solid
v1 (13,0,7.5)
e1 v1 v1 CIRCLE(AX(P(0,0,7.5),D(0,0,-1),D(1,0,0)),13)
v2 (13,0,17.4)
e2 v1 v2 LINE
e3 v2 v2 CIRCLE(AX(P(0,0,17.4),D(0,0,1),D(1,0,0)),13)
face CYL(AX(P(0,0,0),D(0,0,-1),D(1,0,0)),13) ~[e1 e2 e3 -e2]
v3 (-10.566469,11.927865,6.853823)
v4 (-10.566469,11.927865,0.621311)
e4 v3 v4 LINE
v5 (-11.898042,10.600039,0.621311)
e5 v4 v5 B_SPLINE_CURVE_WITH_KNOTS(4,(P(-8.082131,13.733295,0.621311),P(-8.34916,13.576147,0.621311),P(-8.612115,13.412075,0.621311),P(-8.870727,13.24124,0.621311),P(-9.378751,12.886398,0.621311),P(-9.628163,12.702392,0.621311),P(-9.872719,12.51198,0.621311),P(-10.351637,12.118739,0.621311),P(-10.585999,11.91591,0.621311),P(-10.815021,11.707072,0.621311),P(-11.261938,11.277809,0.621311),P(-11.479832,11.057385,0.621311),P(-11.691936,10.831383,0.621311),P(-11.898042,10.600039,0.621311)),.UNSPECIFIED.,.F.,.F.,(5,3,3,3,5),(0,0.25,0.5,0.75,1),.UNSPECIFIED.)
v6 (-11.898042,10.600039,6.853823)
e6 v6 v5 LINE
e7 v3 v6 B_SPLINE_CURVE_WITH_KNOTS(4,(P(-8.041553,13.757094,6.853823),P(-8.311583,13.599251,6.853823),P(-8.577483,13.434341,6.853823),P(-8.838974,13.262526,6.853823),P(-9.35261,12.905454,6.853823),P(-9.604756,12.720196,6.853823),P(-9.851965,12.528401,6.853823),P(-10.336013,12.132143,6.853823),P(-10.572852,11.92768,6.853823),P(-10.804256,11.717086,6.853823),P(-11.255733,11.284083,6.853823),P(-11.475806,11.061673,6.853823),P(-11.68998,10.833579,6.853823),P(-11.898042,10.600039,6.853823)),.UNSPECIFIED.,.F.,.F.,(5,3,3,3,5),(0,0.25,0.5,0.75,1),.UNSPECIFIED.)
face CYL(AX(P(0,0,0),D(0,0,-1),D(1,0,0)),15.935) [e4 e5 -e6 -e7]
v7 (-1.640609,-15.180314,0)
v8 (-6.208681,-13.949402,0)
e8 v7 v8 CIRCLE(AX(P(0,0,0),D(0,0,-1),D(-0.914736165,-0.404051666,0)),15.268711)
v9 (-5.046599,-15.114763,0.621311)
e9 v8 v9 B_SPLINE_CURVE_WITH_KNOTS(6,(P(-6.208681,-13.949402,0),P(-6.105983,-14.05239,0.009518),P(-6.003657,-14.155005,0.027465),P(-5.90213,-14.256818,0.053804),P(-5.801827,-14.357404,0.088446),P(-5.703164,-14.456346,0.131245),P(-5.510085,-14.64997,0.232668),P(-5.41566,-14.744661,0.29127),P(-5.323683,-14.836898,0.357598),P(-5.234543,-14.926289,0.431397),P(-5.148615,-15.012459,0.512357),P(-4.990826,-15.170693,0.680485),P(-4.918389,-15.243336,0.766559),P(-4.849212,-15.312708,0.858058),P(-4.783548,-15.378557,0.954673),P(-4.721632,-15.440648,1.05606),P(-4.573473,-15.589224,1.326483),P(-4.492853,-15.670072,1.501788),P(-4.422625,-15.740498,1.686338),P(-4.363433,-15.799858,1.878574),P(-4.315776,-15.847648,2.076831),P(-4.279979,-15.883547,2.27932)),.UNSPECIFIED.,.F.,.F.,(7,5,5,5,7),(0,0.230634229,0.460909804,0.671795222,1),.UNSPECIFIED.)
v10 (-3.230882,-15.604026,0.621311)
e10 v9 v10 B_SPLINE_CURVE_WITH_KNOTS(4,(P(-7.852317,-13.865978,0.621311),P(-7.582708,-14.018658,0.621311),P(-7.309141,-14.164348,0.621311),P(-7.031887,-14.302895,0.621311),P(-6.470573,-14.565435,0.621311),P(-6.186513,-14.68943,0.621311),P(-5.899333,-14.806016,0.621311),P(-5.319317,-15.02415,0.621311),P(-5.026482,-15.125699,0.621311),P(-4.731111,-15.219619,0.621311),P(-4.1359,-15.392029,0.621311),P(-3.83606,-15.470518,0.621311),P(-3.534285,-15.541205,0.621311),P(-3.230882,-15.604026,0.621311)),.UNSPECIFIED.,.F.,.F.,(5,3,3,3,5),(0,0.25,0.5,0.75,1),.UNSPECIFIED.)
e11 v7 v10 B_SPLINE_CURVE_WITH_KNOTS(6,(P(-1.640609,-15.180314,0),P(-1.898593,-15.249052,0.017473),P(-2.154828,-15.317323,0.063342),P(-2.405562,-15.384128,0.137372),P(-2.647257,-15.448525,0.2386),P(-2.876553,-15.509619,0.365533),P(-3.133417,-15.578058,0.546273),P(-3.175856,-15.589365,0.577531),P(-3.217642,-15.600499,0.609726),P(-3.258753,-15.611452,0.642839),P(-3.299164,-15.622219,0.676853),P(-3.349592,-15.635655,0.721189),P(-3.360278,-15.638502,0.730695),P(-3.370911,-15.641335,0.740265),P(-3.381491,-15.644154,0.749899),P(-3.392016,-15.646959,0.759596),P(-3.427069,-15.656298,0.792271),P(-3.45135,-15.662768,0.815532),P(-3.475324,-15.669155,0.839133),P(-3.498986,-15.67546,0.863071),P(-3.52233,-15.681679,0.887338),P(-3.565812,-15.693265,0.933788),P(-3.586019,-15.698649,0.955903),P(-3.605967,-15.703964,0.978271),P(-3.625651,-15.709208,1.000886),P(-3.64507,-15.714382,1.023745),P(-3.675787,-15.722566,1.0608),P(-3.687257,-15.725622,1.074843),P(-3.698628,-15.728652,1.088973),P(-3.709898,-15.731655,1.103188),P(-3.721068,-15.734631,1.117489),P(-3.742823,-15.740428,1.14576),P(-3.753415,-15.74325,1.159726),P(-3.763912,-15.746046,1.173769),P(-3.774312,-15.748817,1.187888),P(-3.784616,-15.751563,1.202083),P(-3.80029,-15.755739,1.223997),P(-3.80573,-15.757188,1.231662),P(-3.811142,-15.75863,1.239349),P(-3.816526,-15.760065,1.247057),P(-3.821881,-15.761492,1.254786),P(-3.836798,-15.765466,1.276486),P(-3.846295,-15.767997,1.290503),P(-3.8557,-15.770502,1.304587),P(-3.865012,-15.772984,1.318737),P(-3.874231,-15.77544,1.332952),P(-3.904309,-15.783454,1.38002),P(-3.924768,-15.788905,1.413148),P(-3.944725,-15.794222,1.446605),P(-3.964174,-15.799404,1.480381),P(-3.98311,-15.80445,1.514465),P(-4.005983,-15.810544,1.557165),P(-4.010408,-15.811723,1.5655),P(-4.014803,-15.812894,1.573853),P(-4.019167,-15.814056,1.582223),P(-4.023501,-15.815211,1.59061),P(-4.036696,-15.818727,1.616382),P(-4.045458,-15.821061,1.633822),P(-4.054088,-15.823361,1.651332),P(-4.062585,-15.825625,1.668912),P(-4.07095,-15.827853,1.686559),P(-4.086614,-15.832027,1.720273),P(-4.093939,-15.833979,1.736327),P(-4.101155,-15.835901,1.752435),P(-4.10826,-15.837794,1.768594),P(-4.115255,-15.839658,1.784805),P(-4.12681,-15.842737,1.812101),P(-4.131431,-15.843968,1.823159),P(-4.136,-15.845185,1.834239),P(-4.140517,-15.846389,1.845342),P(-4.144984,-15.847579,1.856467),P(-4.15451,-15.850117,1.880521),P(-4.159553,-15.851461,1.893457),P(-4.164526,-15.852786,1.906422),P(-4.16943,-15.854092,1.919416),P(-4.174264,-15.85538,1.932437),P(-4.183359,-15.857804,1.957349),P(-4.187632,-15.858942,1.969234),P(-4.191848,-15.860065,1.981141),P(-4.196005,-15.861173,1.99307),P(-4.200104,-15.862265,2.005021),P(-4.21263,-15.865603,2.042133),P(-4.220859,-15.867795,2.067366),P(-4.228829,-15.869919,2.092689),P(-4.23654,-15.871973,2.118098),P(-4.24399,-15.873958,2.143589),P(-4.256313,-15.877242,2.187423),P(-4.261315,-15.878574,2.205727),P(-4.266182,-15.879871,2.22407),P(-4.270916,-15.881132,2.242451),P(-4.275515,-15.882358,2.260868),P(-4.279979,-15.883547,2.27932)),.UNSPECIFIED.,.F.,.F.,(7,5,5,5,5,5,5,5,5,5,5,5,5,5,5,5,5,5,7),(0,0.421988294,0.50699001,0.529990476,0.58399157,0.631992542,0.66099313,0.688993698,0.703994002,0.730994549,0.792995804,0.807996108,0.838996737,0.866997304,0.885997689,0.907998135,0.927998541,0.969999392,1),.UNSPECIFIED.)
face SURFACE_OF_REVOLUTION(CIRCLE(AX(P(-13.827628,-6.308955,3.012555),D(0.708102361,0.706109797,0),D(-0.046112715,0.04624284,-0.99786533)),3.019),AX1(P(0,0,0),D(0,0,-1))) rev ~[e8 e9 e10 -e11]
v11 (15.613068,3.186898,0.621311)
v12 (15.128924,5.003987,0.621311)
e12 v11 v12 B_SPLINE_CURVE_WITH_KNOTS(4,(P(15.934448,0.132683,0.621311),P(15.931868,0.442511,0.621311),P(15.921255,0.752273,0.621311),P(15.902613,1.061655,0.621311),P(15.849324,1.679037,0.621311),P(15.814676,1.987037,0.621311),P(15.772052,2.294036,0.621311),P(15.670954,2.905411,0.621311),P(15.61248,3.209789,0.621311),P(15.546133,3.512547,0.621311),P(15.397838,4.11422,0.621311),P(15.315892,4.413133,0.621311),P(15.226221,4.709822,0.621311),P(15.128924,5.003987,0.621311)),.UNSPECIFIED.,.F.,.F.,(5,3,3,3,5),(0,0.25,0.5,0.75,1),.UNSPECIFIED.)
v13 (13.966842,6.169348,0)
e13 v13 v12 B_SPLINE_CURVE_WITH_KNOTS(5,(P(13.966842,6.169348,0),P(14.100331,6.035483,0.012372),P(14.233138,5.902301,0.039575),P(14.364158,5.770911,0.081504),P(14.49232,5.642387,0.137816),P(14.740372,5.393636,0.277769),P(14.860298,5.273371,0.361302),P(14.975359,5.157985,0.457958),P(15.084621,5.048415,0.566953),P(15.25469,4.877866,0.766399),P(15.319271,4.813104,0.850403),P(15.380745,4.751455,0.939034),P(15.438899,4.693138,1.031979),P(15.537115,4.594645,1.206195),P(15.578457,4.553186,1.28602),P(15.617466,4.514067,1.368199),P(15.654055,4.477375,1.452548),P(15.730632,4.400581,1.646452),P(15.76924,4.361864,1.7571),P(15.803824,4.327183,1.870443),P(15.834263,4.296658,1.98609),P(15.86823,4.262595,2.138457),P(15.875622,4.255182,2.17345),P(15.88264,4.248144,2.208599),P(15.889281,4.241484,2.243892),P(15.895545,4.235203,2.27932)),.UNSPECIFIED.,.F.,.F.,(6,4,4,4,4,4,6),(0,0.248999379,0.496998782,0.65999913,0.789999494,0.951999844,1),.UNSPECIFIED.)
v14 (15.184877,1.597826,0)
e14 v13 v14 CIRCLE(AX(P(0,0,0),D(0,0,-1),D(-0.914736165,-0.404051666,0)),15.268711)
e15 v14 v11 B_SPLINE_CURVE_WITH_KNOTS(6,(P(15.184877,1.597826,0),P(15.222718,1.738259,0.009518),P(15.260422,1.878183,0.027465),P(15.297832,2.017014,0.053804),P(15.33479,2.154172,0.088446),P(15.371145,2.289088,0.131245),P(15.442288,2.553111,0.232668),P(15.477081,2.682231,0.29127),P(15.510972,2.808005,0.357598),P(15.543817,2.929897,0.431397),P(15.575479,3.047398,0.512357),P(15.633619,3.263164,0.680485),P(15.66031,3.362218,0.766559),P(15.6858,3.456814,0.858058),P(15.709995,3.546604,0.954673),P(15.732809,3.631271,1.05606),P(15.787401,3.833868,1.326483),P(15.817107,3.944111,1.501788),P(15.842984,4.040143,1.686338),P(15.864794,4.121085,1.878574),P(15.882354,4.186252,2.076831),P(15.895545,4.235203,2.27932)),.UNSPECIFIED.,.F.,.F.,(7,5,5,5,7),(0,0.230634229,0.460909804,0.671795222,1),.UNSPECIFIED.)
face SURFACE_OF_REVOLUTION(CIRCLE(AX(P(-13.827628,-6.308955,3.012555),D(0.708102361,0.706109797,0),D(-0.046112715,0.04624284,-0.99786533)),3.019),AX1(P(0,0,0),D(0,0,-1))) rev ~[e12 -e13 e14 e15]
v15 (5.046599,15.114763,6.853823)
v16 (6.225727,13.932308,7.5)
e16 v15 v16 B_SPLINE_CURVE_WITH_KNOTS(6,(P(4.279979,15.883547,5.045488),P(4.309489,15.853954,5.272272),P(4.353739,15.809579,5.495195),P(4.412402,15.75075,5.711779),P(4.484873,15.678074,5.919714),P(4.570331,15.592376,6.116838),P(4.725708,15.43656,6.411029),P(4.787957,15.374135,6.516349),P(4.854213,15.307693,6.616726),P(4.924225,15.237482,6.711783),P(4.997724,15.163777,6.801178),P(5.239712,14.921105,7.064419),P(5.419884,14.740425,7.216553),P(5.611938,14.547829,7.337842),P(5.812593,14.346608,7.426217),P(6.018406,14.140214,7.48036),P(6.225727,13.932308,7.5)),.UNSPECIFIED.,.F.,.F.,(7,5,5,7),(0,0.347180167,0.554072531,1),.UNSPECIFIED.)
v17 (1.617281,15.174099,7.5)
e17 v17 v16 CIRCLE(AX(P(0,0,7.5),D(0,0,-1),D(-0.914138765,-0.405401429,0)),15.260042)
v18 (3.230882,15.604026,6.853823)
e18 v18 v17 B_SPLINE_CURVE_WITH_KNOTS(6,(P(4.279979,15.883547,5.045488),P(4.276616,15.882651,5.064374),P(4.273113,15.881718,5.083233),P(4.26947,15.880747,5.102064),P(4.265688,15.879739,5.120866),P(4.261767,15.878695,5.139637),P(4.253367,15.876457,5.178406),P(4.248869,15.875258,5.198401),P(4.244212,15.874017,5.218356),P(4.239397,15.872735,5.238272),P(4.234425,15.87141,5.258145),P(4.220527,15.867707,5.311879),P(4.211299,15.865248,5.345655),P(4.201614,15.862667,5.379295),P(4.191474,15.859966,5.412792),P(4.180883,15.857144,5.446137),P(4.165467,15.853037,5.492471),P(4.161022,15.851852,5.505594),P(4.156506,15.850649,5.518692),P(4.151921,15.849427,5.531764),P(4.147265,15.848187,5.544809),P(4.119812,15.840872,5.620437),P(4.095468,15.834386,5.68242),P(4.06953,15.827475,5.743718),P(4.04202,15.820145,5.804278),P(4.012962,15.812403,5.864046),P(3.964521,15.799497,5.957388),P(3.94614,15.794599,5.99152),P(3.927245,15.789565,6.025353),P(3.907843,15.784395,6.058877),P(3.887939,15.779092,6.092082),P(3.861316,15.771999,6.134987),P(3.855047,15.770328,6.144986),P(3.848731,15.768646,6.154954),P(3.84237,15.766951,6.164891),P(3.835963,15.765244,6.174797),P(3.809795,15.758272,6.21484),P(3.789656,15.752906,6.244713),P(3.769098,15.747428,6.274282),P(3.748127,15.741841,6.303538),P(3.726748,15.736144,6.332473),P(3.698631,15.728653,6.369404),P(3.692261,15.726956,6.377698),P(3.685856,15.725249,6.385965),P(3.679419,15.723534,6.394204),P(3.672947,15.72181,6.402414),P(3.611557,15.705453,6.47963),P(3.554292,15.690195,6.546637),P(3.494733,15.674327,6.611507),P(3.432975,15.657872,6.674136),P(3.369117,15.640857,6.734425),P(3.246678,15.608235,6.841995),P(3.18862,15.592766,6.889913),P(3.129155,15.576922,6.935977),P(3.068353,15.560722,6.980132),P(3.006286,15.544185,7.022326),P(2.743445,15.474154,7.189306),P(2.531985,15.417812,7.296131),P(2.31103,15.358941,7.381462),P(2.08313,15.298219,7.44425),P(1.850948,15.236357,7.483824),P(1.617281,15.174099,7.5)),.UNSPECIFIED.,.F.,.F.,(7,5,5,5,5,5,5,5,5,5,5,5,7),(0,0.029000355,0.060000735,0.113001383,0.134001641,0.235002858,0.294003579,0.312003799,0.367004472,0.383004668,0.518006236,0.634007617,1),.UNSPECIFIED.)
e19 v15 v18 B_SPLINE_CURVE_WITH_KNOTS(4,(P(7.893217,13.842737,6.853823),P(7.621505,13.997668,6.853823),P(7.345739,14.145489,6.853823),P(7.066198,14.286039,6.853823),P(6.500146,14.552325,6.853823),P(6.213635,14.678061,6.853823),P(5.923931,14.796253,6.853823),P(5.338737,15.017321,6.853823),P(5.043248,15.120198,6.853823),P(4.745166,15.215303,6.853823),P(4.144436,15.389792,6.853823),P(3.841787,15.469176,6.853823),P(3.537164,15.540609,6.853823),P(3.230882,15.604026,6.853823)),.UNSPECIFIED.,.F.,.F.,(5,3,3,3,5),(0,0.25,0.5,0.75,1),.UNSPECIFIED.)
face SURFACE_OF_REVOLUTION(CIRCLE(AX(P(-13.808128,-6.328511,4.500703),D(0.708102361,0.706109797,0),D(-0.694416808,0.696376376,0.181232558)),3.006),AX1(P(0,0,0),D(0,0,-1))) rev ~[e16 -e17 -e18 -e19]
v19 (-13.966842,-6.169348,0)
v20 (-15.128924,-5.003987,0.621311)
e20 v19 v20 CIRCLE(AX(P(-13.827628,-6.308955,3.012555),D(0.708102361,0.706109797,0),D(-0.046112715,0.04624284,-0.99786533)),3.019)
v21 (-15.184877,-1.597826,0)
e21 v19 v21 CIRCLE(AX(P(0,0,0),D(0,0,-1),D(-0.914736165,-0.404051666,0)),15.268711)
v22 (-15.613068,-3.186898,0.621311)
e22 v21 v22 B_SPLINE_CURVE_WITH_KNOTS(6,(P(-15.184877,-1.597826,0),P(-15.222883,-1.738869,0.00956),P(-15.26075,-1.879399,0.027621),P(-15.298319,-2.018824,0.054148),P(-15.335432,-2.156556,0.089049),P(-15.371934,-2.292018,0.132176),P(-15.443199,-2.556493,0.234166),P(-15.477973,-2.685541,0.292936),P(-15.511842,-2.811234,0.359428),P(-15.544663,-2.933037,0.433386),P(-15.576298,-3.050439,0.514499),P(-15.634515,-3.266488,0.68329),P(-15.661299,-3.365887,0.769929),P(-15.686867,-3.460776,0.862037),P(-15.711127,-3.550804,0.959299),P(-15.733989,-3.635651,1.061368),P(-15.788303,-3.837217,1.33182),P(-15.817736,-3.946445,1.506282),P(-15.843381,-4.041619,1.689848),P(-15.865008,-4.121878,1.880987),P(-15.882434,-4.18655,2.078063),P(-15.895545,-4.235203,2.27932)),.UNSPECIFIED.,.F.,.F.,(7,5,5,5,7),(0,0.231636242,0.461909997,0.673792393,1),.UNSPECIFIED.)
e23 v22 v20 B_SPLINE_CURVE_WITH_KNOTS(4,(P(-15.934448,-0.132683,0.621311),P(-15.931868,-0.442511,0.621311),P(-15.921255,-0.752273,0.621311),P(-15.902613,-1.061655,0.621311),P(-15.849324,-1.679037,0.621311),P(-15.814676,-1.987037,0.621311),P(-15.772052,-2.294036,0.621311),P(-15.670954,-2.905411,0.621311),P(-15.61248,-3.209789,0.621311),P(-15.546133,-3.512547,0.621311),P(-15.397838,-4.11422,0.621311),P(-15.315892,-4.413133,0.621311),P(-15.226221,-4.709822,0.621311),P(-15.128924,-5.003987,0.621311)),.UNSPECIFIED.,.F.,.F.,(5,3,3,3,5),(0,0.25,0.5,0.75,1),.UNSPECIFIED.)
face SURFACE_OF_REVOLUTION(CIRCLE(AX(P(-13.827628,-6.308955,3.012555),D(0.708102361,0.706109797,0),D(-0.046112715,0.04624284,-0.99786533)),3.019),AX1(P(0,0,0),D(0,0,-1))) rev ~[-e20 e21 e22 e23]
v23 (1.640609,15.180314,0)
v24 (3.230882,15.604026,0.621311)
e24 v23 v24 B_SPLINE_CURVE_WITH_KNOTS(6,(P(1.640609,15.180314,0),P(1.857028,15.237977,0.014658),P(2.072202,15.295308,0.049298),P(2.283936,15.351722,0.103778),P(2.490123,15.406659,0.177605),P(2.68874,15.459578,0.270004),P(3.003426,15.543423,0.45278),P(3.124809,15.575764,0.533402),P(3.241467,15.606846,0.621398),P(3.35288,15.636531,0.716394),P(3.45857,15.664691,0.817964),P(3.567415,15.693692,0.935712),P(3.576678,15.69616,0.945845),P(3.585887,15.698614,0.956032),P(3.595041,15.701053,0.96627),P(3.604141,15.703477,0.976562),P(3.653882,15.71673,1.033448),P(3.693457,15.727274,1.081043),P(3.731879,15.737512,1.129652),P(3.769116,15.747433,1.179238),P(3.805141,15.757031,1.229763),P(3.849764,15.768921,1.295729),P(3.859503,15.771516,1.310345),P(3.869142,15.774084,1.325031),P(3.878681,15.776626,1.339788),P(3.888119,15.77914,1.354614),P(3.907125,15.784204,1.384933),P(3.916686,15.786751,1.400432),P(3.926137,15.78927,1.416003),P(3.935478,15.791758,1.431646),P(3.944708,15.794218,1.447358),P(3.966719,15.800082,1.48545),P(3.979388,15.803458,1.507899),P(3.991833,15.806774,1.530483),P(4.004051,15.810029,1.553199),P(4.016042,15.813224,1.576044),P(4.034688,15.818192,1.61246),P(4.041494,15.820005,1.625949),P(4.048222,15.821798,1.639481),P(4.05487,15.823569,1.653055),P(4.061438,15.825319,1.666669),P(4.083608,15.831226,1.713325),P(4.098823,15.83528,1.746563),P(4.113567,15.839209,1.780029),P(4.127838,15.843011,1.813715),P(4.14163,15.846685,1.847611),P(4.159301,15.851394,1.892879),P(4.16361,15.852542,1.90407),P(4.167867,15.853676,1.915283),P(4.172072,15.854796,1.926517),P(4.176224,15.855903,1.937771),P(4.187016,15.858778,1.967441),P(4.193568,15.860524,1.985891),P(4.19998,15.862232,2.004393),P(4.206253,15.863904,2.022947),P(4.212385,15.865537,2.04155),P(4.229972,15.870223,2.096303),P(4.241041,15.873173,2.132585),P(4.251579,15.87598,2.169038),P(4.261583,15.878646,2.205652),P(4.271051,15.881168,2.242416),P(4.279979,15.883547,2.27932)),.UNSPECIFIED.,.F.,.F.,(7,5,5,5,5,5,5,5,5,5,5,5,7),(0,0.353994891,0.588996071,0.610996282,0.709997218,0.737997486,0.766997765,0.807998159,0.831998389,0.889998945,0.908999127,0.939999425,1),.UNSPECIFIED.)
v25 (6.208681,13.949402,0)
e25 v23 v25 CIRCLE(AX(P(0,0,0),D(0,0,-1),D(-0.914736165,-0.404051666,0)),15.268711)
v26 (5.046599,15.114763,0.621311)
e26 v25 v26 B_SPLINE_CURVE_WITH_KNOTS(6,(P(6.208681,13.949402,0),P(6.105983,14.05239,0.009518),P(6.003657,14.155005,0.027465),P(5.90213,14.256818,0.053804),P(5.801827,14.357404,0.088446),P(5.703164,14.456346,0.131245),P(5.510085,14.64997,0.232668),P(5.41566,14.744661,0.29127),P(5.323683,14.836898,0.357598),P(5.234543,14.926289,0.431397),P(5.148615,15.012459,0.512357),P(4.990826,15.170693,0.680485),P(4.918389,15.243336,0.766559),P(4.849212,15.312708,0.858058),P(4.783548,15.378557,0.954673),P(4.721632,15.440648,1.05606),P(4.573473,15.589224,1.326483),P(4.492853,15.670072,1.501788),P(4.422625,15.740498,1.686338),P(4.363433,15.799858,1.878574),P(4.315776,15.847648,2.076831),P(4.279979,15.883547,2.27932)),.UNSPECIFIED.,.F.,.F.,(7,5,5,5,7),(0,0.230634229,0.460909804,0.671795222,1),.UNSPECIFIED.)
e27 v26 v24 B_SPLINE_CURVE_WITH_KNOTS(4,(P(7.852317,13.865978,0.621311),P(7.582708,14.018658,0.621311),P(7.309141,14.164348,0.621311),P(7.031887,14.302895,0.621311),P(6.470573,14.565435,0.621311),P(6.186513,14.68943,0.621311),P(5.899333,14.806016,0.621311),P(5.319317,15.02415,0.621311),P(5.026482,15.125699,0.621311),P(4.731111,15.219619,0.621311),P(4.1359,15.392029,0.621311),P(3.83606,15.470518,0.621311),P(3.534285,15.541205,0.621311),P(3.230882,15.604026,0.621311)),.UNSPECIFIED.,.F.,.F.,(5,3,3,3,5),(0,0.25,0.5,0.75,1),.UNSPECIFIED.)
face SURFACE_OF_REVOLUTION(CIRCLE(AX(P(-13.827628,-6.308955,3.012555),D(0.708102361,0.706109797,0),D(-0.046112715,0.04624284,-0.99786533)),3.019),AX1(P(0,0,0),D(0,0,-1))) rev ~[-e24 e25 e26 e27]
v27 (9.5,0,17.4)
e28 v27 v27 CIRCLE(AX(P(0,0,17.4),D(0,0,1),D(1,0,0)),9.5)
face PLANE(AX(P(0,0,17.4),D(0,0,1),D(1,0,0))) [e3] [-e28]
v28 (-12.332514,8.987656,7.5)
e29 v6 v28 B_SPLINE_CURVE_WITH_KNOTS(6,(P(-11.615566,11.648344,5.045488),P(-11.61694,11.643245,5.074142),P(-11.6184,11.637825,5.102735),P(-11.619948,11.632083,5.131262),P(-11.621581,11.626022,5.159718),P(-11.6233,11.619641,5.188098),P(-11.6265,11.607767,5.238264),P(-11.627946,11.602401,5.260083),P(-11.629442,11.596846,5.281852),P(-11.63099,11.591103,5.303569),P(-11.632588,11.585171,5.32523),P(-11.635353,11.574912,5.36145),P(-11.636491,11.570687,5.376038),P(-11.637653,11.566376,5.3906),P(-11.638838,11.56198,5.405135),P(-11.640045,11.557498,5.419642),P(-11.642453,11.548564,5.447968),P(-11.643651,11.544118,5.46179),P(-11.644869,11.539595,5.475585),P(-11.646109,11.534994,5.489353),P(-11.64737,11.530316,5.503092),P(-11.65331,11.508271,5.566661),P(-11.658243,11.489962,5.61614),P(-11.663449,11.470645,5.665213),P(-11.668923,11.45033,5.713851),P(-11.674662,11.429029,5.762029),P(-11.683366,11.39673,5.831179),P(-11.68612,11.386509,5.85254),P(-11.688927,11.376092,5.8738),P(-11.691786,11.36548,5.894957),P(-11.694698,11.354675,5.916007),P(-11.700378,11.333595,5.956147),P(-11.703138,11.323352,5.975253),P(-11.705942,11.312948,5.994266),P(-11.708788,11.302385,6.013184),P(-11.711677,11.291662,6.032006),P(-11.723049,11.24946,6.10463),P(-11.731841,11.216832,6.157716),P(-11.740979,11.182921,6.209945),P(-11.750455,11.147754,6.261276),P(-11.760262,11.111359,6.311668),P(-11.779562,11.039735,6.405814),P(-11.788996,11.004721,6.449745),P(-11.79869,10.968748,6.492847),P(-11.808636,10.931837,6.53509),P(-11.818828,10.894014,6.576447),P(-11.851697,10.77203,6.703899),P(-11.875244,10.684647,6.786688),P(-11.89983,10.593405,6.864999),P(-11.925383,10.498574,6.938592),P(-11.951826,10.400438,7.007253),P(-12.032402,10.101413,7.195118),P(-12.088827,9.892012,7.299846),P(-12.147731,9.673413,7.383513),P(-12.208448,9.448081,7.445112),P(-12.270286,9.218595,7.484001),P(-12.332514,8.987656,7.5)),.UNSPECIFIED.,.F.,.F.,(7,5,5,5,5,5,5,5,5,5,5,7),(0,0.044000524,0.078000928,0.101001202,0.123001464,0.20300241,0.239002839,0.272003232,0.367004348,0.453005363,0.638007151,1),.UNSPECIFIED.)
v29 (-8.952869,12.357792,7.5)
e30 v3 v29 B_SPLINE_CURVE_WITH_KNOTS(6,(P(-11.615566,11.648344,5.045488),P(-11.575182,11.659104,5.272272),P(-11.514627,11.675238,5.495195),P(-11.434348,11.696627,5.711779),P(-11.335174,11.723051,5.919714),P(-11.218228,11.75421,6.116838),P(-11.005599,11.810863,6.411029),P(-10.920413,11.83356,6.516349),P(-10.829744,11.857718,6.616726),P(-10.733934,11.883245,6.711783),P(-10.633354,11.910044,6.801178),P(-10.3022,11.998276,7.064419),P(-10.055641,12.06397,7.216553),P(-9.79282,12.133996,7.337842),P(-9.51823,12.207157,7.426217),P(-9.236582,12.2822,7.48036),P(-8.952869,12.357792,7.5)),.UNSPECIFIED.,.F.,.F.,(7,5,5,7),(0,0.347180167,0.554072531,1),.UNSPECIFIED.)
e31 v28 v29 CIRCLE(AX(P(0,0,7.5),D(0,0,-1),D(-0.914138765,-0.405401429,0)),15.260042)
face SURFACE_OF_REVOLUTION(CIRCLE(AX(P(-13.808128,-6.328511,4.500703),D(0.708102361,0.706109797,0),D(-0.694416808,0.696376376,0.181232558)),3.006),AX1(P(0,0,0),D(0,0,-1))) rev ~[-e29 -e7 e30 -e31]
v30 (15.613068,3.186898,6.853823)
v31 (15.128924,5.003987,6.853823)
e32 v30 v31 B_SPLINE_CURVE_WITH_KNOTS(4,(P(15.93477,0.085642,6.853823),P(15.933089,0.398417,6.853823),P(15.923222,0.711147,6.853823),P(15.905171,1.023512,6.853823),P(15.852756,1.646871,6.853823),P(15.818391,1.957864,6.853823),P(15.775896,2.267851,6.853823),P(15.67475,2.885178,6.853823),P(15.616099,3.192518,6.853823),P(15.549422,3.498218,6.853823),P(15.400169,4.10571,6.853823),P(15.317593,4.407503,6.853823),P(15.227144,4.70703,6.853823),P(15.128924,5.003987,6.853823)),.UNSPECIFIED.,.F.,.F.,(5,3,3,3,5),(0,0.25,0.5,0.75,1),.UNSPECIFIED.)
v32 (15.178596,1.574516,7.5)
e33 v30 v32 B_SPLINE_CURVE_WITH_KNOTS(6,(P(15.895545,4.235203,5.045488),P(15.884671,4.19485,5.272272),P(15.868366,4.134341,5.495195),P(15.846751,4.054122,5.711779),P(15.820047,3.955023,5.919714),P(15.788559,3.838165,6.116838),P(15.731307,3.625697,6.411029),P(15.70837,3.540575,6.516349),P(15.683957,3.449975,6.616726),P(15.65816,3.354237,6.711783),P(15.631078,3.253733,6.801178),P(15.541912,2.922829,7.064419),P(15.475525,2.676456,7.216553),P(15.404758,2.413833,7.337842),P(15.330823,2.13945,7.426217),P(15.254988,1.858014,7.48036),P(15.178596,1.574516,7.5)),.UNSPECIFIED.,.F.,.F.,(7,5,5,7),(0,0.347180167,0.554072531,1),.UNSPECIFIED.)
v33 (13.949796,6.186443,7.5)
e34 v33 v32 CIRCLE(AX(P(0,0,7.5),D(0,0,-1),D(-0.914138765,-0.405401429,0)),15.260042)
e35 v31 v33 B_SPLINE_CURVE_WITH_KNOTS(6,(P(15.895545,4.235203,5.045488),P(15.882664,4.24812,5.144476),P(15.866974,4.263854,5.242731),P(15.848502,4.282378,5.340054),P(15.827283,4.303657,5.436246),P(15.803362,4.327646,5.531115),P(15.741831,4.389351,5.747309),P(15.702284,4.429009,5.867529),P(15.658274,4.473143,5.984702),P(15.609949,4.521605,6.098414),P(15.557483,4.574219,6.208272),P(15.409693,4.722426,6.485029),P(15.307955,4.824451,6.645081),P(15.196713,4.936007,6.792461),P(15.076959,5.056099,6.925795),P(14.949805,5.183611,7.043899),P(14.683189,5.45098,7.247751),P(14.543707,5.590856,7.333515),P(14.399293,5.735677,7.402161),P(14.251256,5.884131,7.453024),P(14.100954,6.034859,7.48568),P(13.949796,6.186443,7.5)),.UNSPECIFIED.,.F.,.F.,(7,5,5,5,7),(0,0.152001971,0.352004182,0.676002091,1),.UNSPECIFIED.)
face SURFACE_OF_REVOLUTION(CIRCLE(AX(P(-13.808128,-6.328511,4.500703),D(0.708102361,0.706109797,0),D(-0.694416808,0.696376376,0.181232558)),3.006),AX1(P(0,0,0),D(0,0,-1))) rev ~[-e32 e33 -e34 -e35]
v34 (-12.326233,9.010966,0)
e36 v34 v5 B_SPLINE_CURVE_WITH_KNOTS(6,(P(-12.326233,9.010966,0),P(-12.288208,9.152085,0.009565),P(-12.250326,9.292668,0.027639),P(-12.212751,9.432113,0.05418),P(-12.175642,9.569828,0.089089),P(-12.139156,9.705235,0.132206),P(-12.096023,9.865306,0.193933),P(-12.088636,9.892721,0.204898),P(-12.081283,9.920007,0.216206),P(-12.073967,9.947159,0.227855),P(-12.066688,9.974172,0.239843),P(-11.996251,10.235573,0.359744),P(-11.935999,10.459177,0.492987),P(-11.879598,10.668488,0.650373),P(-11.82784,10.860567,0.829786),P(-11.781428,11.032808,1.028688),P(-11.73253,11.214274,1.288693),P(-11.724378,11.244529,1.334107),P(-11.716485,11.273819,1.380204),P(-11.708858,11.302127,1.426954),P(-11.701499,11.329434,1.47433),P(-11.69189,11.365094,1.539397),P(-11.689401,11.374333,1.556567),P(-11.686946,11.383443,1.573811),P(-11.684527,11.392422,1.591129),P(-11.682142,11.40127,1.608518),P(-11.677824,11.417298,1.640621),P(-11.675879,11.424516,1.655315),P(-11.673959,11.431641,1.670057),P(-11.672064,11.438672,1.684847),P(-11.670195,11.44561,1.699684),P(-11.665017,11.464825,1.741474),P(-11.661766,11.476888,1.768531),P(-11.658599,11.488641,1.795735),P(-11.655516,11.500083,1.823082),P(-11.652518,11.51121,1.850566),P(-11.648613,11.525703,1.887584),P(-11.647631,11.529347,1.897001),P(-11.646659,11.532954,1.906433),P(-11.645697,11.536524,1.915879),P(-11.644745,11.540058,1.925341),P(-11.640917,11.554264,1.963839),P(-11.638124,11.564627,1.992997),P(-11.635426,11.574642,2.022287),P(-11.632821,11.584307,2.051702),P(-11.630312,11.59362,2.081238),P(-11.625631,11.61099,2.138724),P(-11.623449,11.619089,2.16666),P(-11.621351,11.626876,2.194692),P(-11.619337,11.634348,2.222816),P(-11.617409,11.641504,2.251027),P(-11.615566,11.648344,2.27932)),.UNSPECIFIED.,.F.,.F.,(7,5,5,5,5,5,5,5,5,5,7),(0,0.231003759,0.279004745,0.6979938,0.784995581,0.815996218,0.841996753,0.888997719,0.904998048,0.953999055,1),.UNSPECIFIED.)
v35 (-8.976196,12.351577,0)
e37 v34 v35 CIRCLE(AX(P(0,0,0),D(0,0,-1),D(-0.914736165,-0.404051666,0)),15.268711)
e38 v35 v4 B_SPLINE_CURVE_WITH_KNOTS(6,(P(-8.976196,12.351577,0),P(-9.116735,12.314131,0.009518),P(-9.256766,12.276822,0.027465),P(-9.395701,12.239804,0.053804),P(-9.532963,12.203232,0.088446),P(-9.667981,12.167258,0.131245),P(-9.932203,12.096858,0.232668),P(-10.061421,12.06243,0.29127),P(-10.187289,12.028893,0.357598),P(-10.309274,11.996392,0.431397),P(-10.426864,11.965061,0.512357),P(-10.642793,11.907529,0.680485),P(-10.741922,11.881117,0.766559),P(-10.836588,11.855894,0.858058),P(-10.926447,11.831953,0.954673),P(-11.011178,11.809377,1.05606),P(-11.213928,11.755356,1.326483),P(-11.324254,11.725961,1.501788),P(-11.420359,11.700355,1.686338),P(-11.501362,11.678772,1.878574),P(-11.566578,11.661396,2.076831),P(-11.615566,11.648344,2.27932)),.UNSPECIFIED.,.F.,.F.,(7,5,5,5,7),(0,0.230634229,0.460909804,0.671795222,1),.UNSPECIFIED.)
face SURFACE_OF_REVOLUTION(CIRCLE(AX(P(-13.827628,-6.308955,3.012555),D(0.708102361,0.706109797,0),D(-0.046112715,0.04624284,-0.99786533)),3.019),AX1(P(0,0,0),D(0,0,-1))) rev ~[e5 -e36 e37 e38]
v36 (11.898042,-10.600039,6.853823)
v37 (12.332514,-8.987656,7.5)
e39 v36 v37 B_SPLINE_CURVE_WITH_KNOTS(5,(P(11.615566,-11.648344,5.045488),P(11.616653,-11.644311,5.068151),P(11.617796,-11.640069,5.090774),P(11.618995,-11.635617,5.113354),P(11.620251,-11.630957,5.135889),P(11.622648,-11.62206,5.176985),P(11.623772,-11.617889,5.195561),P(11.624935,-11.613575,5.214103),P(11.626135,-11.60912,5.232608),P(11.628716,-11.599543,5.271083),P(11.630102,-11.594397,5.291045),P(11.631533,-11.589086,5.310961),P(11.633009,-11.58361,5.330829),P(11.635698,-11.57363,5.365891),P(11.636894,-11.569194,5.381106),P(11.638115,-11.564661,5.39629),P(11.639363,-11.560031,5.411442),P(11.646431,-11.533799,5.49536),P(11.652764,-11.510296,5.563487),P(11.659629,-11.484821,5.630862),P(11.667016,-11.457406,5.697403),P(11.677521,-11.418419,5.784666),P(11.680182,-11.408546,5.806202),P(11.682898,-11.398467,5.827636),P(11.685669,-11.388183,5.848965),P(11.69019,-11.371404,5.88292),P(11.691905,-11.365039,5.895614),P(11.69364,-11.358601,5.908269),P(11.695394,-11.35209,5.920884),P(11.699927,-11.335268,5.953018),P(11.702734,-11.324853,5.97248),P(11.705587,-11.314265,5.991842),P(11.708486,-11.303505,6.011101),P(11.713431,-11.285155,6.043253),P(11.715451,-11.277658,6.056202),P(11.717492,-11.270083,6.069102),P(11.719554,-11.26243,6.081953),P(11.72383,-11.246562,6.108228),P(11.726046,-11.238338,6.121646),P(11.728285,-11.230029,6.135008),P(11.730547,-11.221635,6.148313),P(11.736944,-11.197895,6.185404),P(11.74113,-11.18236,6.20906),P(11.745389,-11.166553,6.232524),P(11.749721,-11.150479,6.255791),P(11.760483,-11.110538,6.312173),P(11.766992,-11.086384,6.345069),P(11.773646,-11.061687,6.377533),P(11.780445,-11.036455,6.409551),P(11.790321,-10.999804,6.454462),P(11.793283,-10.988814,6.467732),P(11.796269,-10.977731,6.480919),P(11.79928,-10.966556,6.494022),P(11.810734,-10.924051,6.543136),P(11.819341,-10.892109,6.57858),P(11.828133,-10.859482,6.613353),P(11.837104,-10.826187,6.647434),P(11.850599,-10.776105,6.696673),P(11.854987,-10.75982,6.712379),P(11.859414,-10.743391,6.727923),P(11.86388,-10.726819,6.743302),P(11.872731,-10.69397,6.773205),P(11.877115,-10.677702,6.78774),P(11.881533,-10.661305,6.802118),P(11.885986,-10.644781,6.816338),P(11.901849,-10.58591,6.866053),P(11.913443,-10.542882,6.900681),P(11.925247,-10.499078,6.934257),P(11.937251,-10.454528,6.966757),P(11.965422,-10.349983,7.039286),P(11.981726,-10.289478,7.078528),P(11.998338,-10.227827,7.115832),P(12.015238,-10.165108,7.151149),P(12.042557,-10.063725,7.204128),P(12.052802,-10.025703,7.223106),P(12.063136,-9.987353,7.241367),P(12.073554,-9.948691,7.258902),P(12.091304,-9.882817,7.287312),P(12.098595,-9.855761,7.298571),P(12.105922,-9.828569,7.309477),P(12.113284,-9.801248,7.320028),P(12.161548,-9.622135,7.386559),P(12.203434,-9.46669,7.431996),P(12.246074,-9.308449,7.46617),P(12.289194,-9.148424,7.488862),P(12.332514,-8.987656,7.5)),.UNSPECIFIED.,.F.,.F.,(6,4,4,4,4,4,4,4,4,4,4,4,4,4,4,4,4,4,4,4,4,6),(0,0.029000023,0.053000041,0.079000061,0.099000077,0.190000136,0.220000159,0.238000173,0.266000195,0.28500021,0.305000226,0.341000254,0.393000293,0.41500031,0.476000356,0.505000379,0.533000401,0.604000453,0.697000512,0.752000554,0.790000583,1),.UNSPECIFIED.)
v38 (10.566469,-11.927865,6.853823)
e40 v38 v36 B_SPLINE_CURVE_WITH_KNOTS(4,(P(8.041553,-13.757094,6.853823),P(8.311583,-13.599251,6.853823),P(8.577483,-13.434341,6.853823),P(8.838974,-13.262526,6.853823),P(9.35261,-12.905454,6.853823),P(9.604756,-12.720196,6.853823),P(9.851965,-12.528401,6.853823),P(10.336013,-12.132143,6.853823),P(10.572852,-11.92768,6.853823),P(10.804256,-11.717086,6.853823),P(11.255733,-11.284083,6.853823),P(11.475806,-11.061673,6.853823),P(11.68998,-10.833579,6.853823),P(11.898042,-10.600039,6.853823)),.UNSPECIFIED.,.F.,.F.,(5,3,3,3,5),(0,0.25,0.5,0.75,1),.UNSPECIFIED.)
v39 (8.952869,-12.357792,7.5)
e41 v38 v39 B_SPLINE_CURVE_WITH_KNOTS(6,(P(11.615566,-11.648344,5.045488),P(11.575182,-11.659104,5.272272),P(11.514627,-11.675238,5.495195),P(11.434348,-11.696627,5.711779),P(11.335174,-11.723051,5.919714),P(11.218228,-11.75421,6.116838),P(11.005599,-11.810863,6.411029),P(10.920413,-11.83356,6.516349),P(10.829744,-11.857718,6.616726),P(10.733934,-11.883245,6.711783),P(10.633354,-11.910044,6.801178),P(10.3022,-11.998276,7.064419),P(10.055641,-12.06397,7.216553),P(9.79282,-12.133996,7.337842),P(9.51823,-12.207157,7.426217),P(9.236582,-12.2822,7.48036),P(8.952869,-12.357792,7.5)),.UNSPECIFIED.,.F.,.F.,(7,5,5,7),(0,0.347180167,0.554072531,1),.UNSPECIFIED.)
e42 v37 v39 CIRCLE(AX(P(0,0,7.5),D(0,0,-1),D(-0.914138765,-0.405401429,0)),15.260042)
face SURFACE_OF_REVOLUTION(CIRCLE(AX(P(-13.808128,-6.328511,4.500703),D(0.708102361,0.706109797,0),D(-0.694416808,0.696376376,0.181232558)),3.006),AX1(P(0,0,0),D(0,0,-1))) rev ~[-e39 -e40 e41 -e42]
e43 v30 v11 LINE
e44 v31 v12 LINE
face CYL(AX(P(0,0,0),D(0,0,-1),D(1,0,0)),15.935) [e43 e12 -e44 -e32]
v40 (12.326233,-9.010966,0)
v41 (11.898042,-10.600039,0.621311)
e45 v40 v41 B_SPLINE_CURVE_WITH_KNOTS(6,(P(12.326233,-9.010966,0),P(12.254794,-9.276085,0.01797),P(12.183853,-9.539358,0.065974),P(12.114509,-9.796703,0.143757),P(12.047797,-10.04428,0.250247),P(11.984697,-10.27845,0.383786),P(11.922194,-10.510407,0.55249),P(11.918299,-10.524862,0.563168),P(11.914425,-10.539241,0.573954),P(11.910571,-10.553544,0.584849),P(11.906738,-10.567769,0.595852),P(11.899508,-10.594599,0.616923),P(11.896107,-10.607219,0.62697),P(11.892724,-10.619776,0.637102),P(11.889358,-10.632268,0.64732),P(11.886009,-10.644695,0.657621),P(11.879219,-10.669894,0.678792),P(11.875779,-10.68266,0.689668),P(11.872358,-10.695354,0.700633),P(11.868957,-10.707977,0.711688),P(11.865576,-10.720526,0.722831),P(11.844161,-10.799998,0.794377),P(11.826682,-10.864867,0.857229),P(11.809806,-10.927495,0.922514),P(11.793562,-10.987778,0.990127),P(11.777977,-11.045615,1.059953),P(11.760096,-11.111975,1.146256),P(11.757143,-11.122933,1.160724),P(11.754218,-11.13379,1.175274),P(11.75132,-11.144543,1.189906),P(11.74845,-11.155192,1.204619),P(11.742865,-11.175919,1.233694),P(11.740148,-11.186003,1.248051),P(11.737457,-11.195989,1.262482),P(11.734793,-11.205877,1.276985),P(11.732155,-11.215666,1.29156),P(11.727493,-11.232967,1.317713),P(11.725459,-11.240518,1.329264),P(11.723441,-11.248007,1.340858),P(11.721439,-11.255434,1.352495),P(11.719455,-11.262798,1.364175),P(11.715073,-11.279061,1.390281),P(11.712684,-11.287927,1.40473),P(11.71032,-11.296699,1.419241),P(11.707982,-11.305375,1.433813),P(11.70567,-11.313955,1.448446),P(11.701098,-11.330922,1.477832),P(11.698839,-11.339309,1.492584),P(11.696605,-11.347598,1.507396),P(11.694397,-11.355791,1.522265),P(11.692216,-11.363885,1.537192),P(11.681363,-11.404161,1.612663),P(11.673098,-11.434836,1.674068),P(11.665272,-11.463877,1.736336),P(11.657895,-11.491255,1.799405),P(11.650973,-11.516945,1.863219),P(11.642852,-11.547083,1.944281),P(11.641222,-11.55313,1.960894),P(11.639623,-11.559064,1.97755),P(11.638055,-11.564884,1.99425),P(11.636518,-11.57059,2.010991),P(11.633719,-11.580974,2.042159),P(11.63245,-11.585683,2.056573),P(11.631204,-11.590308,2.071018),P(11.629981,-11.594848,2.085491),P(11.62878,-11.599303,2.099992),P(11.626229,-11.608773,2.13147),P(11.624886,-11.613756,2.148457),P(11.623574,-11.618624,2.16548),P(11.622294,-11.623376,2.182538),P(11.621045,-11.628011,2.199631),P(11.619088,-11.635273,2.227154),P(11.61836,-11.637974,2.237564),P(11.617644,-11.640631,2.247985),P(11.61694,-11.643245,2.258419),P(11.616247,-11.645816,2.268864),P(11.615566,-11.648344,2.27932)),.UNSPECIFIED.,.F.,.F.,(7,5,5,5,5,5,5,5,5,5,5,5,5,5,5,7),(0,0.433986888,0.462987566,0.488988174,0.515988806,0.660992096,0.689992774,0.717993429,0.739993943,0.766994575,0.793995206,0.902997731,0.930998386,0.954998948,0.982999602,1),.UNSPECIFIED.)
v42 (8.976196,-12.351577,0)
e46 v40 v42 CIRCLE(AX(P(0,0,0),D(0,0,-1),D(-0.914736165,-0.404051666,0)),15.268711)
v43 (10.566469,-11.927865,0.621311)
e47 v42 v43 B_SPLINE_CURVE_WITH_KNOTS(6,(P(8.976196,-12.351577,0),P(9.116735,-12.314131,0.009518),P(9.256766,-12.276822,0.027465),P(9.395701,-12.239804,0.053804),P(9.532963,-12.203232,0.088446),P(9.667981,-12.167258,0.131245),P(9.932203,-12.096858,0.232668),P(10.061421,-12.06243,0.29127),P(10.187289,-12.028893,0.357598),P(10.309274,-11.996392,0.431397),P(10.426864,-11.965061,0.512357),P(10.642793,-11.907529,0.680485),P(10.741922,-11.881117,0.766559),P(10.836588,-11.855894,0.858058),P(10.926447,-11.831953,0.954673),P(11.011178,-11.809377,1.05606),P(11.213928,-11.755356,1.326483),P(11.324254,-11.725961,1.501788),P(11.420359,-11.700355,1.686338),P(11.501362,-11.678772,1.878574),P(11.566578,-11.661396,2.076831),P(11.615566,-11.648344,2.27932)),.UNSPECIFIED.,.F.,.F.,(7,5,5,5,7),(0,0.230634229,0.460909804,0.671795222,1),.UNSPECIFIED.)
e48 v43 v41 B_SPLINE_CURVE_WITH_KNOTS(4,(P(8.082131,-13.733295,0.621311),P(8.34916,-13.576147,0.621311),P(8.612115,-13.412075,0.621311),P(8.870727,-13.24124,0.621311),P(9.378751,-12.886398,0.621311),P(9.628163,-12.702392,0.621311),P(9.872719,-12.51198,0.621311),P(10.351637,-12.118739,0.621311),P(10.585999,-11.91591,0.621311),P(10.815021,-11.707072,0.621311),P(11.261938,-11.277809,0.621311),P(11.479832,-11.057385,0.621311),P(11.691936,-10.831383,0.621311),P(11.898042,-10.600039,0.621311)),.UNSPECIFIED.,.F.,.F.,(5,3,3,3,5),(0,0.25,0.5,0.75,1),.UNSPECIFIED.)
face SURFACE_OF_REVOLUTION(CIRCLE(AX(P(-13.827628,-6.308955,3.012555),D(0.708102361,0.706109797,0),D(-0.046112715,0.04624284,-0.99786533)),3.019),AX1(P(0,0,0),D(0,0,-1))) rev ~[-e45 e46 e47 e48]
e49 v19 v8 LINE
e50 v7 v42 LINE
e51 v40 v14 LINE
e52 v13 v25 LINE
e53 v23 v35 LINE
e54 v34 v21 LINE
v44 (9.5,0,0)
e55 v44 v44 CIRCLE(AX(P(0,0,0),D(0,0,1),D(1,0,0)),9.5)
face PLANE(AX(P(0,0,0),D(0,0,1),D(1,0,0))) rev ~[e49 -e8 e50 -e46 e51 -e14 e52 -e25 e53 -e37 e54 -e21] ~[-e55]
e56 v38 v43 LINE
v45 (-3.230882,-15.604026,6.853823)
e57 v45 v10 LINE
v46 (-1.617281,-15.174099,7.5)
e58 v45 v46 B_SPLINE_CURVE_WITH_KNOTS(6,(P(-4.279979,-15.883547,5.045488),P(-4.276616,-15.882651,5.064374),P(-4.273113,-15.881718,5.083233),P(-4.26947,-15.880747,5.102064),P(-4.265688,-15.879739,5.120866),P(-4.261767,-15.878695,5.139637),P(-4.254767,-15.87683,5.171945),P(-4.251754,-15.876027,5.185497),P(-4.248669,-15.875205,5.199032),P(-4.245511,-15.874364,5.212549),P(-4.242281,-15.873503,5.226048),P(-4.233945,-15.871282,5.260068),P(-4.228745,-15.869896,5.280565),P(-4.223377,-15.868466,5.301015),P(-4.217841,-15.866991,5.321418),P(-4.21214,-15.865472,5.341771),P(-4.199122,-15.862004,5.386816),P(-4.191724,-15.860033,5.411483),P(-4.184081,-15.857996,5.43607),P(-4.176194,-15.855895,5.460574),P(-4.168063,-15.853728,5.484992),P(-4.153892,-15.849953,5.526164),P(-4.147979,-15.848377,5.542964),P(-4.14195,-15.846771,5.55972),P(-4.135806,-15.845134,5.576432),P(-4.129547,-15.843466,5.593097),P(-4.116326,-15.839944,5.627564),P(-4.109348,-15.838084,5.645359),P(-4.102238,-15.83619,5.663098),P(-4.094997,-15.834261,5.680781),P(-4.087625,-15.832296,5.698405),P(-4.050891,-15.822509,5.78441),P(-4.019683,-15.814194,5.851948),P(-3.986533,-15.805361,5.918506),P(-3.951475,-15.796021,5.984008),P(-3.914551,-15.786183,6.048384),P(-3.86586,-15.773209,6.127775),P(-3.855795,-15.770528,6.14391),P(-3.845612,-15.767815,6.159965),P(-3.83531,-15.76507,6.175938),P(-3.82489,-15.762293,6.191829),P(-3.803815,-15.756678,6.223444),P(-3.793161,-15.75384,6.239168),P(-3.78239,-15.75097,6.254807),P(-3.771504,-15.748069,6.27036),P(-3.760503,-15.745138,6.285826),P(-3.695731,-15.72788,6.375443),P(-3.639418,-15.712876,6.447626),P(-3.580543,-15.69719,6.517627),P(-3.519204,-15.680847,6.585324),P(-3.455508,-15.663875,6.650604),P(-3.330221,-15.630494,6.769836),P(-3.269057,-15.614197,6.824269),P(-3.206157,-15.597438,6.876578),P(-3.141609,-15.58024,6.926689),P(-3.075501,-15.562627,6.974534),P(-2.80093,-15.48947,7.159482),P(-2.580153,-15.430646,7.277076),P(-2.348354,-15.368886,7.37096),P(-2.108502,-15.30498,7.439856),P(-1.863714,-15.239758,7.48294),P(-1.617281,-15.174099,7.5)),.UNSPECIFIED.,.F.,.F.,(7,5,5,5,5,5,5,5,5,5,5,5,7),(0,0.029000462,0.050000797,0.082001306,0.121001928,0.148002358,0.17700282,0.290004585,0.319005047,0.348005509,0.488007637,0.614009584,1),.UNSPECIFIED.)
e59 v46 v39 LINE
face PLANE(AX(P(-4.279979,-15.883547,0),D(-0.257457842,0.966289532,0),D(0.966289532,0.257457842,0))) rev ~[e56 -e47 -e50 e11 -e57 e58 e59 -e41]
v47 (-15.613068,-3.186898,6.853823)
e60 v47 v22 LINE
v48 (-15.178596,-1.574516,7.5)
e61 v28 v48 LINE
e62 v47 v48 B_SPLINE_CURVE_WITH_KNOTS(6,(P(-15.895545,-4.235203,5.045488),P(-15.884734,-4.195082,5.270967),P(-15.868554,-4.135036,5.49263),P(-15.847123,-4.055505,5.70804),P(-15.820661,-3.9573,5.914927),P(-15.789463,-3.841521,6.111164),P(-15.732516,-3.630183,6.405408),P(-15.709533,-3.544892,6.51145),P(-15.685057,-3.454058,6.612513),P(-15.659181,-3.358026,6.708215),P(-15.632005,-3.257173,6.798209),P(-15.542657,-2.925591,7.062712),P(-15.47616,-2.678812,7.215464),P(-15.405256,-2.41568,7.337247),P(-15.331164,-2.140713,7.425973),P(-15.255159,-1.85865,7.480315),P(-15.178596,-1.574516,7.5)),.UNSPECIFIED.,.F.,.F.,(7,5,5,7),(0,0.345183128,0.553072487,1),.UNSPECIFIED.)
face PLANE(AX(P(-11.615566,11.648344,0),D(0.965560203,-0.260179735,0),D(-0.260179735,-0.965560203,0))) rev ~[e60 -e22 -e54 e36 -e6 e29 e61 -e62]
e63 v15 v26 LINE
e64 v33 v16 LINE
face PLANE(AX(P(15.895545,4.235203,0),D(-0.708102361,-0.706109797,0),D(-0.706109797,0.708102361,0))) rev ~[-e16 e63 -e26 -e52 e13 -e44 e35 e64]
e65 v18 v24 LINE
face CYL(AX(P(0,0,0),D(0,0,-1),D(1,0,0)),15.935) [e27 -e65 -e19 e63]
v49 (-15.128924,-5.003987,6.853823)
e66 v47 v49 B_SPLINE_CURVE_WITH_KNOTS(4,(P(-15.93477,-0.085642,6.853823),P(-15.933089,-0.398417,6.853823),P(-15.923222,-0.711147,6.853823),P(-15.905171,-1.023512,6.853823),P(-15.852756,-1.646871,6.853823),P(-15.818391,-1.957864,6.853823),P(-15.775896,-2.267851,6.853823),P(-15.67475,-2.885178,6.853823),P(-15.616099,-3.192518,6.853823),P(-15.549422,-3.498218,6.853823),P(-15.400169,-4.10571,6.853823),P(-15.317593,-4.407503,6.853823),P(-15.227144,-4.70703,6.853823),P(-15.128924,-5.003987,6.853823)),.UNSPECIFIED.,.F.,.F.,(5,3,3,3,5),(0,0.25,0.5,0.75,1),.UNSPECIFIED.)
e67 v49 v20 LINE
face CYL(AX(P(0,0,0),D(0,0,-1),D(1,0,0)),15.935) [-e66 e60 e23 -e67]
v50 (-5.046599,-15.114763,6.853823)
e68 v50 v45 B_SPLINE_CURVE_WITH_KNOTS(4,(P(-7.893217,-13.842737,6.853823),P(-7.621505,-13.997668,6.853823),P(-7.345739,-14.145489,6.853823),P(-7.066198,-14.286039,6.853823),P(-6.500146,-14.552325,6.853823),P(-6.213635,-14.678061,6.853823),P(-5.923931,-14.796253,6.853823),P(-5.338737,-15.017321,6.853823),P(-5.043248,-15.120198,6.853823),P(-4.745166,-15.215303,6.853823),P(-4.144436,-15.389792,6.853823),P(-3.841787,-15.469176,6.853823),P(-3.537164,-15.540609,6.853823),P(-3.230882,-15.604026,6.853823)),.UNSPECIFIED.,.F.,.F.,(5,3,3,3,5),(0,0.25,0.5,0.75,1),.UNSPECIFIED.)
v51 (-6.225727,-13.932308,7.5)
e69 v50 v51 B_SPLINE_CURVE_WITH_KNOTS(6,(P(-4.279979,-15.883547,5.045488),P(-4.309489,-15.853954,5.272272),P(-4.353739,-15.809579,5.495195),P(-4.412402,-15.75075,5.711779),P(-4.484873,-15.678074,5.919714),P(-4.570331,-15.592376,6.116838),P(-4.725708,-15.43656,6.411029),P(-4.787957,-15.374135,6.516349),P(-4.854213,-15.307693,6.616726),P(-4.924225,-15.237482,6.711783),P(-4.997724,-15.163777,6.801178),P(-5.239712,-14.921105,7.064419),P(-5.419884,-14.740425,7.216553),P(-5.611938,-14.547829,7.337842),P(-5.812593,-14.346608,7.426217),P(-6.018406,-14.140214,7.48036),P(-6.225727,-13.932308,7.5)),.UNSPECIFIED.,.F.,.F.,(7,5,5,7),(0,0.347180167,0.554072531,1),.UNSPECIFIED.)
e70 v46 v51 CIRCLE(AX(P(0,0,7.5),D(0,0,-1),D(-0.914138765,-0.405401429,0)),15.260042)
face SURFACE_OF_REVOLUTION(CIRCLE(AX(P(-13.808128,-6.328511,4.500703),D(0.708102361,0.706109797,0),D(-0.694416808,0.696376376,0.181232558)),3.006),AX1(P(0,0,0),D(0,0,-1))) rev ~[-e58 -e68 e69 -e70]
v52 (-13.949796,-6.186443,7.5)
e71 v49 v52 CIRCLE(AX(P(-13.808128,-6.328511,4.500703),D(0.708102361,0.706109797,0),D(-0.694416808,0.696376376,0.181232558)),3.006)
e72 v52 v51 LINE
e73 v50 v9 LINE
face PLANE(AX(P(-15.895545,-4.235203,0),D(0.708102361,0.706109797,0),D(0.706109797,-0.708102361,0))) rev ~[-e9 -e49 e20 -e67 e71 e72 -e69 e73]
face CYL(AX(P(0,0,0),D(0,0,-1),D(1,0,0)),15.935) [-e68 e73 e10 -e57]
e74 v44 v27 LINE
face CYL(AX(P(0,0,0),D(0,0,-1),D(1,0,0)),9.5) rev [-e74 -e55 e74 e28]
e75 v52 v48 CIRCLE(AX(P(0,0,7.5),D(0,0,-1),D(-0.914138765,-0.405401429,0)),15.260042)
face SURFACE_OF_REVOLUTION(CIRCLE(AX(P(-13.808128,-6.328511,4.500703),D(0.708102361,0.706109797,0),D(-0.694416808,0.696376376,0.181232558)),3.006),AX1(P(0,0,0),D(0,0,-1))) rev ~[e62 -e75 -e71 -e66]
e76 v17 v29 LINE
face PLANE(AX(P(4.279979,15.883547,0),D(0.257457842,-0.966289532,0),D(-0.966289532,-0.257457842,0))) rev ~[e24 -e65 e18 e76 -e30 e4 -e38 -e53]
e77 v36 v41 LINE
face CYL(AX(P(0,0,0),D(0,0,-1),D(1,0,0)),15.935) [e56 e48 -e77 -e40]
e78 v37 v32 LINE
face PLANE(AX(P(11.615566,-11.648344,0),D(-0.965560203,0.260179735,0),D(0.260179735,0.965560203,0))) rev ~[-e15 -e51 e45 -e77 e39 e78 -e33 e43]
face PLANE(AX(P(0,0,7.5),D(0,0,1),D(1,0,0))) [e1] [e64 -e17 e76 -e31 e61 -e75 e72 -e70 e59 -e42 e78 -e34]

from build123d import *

# Parameters (mm, degrees)
F0_R      = 13
F0_R_2    = 9.5
F1_DEPTH  = 17.4
F2_R      = 14.2
F3_R      = 14.2
F4_DEPTH  = 7.5
F5_R      = 9.5
F6_DEPTH  = 25
F9_R      = 16.7063841851
F9_R_2    = 15.935
F10_DEPTH = 25


with BuildPart() as f1:
    # F0 (on Top) → F1 (new body)
    with BuildSketch(Plane.XY):
        Circle(F0_R)
        Circle(F0_R_2, mode=Mode.SUBTRACT)
    extrude(amount=F1_DEPTH)

    # F2 (on Top) + F3 (on face) → F4 (join)
    with BuildSketch(Plane.XY):
        Circle(F2_R)
    with BuildSketch(Plane.XY):
        Polygon((11.6155659336, -11.648343784), (15.8955445957, 4.2352032858), (4.2799786621, 15.8835470698), (-11.6155659336, 11.648343784), (-15.8955445957, -4.2352032858), (-4.2799786621, -15.8835470698), align=None)
        Circle(F3_R, mode=Mode.SUBTRACT)
    extrude(amount=F4_DEPTH)

    # F5 (on face) → F6 (cut)
    with BuildSketch(Plane.XY):
        Circle(F5_R)
    extrude(amount=F6_DEPTH, mode=Mode.SUBTRACT)

    # F7 (on face) → F8 (revolve, cut)
    with BuildSketch(Plane(origin=(-10.0877616289, -10.0593751778, 0), x_dir=(0.7061097972, -0.7081023614, 0), z_dir=(-0.7081023614, -0.7061097972, 0))):
        with BuildLine():
            ThreePointArc((-5.4935941607, 0), (-7.2307127812, 0.6945951349), (-8.2250423231, 2.2793198004))
            Line((-8.2250423231, 2.2793198004), (-8.2250423231, 0))
            Line((-8.2250423231, 0), (-5.4935941607, 0))
        make_face()
        with BuildLine():
            Line((-8.2250423231, 7.5), (-8.2250423231, 5.0454880111))
            ThreePointArc((-8.2250423231, 5.0454880111), (-7.2682177888, 6.7453516877), (-5.4694527589, 7.5))
            Line((-5.4694527589, 7.5), (-8.2250423231, 7.5))
        make_face()
    revolve(axis=Axis((0, 0, 0), (0, 0, -1)), mode=Mode.SUBTRACT)

    # F9 (on face) → F10 (cut)
    with BuildSketch(Plane(origin=(0, 0, 0), x_dir=(1, 0, 0), z_dir=(0, 0, -1))):
        Circle(F9_R)
        Circle(F9_R_2, mode=Mode.SUBTRACT)
    extrude(amount=-F10_DEPTH, mode=Mode.SUBTRACT)


solid = f1.part
